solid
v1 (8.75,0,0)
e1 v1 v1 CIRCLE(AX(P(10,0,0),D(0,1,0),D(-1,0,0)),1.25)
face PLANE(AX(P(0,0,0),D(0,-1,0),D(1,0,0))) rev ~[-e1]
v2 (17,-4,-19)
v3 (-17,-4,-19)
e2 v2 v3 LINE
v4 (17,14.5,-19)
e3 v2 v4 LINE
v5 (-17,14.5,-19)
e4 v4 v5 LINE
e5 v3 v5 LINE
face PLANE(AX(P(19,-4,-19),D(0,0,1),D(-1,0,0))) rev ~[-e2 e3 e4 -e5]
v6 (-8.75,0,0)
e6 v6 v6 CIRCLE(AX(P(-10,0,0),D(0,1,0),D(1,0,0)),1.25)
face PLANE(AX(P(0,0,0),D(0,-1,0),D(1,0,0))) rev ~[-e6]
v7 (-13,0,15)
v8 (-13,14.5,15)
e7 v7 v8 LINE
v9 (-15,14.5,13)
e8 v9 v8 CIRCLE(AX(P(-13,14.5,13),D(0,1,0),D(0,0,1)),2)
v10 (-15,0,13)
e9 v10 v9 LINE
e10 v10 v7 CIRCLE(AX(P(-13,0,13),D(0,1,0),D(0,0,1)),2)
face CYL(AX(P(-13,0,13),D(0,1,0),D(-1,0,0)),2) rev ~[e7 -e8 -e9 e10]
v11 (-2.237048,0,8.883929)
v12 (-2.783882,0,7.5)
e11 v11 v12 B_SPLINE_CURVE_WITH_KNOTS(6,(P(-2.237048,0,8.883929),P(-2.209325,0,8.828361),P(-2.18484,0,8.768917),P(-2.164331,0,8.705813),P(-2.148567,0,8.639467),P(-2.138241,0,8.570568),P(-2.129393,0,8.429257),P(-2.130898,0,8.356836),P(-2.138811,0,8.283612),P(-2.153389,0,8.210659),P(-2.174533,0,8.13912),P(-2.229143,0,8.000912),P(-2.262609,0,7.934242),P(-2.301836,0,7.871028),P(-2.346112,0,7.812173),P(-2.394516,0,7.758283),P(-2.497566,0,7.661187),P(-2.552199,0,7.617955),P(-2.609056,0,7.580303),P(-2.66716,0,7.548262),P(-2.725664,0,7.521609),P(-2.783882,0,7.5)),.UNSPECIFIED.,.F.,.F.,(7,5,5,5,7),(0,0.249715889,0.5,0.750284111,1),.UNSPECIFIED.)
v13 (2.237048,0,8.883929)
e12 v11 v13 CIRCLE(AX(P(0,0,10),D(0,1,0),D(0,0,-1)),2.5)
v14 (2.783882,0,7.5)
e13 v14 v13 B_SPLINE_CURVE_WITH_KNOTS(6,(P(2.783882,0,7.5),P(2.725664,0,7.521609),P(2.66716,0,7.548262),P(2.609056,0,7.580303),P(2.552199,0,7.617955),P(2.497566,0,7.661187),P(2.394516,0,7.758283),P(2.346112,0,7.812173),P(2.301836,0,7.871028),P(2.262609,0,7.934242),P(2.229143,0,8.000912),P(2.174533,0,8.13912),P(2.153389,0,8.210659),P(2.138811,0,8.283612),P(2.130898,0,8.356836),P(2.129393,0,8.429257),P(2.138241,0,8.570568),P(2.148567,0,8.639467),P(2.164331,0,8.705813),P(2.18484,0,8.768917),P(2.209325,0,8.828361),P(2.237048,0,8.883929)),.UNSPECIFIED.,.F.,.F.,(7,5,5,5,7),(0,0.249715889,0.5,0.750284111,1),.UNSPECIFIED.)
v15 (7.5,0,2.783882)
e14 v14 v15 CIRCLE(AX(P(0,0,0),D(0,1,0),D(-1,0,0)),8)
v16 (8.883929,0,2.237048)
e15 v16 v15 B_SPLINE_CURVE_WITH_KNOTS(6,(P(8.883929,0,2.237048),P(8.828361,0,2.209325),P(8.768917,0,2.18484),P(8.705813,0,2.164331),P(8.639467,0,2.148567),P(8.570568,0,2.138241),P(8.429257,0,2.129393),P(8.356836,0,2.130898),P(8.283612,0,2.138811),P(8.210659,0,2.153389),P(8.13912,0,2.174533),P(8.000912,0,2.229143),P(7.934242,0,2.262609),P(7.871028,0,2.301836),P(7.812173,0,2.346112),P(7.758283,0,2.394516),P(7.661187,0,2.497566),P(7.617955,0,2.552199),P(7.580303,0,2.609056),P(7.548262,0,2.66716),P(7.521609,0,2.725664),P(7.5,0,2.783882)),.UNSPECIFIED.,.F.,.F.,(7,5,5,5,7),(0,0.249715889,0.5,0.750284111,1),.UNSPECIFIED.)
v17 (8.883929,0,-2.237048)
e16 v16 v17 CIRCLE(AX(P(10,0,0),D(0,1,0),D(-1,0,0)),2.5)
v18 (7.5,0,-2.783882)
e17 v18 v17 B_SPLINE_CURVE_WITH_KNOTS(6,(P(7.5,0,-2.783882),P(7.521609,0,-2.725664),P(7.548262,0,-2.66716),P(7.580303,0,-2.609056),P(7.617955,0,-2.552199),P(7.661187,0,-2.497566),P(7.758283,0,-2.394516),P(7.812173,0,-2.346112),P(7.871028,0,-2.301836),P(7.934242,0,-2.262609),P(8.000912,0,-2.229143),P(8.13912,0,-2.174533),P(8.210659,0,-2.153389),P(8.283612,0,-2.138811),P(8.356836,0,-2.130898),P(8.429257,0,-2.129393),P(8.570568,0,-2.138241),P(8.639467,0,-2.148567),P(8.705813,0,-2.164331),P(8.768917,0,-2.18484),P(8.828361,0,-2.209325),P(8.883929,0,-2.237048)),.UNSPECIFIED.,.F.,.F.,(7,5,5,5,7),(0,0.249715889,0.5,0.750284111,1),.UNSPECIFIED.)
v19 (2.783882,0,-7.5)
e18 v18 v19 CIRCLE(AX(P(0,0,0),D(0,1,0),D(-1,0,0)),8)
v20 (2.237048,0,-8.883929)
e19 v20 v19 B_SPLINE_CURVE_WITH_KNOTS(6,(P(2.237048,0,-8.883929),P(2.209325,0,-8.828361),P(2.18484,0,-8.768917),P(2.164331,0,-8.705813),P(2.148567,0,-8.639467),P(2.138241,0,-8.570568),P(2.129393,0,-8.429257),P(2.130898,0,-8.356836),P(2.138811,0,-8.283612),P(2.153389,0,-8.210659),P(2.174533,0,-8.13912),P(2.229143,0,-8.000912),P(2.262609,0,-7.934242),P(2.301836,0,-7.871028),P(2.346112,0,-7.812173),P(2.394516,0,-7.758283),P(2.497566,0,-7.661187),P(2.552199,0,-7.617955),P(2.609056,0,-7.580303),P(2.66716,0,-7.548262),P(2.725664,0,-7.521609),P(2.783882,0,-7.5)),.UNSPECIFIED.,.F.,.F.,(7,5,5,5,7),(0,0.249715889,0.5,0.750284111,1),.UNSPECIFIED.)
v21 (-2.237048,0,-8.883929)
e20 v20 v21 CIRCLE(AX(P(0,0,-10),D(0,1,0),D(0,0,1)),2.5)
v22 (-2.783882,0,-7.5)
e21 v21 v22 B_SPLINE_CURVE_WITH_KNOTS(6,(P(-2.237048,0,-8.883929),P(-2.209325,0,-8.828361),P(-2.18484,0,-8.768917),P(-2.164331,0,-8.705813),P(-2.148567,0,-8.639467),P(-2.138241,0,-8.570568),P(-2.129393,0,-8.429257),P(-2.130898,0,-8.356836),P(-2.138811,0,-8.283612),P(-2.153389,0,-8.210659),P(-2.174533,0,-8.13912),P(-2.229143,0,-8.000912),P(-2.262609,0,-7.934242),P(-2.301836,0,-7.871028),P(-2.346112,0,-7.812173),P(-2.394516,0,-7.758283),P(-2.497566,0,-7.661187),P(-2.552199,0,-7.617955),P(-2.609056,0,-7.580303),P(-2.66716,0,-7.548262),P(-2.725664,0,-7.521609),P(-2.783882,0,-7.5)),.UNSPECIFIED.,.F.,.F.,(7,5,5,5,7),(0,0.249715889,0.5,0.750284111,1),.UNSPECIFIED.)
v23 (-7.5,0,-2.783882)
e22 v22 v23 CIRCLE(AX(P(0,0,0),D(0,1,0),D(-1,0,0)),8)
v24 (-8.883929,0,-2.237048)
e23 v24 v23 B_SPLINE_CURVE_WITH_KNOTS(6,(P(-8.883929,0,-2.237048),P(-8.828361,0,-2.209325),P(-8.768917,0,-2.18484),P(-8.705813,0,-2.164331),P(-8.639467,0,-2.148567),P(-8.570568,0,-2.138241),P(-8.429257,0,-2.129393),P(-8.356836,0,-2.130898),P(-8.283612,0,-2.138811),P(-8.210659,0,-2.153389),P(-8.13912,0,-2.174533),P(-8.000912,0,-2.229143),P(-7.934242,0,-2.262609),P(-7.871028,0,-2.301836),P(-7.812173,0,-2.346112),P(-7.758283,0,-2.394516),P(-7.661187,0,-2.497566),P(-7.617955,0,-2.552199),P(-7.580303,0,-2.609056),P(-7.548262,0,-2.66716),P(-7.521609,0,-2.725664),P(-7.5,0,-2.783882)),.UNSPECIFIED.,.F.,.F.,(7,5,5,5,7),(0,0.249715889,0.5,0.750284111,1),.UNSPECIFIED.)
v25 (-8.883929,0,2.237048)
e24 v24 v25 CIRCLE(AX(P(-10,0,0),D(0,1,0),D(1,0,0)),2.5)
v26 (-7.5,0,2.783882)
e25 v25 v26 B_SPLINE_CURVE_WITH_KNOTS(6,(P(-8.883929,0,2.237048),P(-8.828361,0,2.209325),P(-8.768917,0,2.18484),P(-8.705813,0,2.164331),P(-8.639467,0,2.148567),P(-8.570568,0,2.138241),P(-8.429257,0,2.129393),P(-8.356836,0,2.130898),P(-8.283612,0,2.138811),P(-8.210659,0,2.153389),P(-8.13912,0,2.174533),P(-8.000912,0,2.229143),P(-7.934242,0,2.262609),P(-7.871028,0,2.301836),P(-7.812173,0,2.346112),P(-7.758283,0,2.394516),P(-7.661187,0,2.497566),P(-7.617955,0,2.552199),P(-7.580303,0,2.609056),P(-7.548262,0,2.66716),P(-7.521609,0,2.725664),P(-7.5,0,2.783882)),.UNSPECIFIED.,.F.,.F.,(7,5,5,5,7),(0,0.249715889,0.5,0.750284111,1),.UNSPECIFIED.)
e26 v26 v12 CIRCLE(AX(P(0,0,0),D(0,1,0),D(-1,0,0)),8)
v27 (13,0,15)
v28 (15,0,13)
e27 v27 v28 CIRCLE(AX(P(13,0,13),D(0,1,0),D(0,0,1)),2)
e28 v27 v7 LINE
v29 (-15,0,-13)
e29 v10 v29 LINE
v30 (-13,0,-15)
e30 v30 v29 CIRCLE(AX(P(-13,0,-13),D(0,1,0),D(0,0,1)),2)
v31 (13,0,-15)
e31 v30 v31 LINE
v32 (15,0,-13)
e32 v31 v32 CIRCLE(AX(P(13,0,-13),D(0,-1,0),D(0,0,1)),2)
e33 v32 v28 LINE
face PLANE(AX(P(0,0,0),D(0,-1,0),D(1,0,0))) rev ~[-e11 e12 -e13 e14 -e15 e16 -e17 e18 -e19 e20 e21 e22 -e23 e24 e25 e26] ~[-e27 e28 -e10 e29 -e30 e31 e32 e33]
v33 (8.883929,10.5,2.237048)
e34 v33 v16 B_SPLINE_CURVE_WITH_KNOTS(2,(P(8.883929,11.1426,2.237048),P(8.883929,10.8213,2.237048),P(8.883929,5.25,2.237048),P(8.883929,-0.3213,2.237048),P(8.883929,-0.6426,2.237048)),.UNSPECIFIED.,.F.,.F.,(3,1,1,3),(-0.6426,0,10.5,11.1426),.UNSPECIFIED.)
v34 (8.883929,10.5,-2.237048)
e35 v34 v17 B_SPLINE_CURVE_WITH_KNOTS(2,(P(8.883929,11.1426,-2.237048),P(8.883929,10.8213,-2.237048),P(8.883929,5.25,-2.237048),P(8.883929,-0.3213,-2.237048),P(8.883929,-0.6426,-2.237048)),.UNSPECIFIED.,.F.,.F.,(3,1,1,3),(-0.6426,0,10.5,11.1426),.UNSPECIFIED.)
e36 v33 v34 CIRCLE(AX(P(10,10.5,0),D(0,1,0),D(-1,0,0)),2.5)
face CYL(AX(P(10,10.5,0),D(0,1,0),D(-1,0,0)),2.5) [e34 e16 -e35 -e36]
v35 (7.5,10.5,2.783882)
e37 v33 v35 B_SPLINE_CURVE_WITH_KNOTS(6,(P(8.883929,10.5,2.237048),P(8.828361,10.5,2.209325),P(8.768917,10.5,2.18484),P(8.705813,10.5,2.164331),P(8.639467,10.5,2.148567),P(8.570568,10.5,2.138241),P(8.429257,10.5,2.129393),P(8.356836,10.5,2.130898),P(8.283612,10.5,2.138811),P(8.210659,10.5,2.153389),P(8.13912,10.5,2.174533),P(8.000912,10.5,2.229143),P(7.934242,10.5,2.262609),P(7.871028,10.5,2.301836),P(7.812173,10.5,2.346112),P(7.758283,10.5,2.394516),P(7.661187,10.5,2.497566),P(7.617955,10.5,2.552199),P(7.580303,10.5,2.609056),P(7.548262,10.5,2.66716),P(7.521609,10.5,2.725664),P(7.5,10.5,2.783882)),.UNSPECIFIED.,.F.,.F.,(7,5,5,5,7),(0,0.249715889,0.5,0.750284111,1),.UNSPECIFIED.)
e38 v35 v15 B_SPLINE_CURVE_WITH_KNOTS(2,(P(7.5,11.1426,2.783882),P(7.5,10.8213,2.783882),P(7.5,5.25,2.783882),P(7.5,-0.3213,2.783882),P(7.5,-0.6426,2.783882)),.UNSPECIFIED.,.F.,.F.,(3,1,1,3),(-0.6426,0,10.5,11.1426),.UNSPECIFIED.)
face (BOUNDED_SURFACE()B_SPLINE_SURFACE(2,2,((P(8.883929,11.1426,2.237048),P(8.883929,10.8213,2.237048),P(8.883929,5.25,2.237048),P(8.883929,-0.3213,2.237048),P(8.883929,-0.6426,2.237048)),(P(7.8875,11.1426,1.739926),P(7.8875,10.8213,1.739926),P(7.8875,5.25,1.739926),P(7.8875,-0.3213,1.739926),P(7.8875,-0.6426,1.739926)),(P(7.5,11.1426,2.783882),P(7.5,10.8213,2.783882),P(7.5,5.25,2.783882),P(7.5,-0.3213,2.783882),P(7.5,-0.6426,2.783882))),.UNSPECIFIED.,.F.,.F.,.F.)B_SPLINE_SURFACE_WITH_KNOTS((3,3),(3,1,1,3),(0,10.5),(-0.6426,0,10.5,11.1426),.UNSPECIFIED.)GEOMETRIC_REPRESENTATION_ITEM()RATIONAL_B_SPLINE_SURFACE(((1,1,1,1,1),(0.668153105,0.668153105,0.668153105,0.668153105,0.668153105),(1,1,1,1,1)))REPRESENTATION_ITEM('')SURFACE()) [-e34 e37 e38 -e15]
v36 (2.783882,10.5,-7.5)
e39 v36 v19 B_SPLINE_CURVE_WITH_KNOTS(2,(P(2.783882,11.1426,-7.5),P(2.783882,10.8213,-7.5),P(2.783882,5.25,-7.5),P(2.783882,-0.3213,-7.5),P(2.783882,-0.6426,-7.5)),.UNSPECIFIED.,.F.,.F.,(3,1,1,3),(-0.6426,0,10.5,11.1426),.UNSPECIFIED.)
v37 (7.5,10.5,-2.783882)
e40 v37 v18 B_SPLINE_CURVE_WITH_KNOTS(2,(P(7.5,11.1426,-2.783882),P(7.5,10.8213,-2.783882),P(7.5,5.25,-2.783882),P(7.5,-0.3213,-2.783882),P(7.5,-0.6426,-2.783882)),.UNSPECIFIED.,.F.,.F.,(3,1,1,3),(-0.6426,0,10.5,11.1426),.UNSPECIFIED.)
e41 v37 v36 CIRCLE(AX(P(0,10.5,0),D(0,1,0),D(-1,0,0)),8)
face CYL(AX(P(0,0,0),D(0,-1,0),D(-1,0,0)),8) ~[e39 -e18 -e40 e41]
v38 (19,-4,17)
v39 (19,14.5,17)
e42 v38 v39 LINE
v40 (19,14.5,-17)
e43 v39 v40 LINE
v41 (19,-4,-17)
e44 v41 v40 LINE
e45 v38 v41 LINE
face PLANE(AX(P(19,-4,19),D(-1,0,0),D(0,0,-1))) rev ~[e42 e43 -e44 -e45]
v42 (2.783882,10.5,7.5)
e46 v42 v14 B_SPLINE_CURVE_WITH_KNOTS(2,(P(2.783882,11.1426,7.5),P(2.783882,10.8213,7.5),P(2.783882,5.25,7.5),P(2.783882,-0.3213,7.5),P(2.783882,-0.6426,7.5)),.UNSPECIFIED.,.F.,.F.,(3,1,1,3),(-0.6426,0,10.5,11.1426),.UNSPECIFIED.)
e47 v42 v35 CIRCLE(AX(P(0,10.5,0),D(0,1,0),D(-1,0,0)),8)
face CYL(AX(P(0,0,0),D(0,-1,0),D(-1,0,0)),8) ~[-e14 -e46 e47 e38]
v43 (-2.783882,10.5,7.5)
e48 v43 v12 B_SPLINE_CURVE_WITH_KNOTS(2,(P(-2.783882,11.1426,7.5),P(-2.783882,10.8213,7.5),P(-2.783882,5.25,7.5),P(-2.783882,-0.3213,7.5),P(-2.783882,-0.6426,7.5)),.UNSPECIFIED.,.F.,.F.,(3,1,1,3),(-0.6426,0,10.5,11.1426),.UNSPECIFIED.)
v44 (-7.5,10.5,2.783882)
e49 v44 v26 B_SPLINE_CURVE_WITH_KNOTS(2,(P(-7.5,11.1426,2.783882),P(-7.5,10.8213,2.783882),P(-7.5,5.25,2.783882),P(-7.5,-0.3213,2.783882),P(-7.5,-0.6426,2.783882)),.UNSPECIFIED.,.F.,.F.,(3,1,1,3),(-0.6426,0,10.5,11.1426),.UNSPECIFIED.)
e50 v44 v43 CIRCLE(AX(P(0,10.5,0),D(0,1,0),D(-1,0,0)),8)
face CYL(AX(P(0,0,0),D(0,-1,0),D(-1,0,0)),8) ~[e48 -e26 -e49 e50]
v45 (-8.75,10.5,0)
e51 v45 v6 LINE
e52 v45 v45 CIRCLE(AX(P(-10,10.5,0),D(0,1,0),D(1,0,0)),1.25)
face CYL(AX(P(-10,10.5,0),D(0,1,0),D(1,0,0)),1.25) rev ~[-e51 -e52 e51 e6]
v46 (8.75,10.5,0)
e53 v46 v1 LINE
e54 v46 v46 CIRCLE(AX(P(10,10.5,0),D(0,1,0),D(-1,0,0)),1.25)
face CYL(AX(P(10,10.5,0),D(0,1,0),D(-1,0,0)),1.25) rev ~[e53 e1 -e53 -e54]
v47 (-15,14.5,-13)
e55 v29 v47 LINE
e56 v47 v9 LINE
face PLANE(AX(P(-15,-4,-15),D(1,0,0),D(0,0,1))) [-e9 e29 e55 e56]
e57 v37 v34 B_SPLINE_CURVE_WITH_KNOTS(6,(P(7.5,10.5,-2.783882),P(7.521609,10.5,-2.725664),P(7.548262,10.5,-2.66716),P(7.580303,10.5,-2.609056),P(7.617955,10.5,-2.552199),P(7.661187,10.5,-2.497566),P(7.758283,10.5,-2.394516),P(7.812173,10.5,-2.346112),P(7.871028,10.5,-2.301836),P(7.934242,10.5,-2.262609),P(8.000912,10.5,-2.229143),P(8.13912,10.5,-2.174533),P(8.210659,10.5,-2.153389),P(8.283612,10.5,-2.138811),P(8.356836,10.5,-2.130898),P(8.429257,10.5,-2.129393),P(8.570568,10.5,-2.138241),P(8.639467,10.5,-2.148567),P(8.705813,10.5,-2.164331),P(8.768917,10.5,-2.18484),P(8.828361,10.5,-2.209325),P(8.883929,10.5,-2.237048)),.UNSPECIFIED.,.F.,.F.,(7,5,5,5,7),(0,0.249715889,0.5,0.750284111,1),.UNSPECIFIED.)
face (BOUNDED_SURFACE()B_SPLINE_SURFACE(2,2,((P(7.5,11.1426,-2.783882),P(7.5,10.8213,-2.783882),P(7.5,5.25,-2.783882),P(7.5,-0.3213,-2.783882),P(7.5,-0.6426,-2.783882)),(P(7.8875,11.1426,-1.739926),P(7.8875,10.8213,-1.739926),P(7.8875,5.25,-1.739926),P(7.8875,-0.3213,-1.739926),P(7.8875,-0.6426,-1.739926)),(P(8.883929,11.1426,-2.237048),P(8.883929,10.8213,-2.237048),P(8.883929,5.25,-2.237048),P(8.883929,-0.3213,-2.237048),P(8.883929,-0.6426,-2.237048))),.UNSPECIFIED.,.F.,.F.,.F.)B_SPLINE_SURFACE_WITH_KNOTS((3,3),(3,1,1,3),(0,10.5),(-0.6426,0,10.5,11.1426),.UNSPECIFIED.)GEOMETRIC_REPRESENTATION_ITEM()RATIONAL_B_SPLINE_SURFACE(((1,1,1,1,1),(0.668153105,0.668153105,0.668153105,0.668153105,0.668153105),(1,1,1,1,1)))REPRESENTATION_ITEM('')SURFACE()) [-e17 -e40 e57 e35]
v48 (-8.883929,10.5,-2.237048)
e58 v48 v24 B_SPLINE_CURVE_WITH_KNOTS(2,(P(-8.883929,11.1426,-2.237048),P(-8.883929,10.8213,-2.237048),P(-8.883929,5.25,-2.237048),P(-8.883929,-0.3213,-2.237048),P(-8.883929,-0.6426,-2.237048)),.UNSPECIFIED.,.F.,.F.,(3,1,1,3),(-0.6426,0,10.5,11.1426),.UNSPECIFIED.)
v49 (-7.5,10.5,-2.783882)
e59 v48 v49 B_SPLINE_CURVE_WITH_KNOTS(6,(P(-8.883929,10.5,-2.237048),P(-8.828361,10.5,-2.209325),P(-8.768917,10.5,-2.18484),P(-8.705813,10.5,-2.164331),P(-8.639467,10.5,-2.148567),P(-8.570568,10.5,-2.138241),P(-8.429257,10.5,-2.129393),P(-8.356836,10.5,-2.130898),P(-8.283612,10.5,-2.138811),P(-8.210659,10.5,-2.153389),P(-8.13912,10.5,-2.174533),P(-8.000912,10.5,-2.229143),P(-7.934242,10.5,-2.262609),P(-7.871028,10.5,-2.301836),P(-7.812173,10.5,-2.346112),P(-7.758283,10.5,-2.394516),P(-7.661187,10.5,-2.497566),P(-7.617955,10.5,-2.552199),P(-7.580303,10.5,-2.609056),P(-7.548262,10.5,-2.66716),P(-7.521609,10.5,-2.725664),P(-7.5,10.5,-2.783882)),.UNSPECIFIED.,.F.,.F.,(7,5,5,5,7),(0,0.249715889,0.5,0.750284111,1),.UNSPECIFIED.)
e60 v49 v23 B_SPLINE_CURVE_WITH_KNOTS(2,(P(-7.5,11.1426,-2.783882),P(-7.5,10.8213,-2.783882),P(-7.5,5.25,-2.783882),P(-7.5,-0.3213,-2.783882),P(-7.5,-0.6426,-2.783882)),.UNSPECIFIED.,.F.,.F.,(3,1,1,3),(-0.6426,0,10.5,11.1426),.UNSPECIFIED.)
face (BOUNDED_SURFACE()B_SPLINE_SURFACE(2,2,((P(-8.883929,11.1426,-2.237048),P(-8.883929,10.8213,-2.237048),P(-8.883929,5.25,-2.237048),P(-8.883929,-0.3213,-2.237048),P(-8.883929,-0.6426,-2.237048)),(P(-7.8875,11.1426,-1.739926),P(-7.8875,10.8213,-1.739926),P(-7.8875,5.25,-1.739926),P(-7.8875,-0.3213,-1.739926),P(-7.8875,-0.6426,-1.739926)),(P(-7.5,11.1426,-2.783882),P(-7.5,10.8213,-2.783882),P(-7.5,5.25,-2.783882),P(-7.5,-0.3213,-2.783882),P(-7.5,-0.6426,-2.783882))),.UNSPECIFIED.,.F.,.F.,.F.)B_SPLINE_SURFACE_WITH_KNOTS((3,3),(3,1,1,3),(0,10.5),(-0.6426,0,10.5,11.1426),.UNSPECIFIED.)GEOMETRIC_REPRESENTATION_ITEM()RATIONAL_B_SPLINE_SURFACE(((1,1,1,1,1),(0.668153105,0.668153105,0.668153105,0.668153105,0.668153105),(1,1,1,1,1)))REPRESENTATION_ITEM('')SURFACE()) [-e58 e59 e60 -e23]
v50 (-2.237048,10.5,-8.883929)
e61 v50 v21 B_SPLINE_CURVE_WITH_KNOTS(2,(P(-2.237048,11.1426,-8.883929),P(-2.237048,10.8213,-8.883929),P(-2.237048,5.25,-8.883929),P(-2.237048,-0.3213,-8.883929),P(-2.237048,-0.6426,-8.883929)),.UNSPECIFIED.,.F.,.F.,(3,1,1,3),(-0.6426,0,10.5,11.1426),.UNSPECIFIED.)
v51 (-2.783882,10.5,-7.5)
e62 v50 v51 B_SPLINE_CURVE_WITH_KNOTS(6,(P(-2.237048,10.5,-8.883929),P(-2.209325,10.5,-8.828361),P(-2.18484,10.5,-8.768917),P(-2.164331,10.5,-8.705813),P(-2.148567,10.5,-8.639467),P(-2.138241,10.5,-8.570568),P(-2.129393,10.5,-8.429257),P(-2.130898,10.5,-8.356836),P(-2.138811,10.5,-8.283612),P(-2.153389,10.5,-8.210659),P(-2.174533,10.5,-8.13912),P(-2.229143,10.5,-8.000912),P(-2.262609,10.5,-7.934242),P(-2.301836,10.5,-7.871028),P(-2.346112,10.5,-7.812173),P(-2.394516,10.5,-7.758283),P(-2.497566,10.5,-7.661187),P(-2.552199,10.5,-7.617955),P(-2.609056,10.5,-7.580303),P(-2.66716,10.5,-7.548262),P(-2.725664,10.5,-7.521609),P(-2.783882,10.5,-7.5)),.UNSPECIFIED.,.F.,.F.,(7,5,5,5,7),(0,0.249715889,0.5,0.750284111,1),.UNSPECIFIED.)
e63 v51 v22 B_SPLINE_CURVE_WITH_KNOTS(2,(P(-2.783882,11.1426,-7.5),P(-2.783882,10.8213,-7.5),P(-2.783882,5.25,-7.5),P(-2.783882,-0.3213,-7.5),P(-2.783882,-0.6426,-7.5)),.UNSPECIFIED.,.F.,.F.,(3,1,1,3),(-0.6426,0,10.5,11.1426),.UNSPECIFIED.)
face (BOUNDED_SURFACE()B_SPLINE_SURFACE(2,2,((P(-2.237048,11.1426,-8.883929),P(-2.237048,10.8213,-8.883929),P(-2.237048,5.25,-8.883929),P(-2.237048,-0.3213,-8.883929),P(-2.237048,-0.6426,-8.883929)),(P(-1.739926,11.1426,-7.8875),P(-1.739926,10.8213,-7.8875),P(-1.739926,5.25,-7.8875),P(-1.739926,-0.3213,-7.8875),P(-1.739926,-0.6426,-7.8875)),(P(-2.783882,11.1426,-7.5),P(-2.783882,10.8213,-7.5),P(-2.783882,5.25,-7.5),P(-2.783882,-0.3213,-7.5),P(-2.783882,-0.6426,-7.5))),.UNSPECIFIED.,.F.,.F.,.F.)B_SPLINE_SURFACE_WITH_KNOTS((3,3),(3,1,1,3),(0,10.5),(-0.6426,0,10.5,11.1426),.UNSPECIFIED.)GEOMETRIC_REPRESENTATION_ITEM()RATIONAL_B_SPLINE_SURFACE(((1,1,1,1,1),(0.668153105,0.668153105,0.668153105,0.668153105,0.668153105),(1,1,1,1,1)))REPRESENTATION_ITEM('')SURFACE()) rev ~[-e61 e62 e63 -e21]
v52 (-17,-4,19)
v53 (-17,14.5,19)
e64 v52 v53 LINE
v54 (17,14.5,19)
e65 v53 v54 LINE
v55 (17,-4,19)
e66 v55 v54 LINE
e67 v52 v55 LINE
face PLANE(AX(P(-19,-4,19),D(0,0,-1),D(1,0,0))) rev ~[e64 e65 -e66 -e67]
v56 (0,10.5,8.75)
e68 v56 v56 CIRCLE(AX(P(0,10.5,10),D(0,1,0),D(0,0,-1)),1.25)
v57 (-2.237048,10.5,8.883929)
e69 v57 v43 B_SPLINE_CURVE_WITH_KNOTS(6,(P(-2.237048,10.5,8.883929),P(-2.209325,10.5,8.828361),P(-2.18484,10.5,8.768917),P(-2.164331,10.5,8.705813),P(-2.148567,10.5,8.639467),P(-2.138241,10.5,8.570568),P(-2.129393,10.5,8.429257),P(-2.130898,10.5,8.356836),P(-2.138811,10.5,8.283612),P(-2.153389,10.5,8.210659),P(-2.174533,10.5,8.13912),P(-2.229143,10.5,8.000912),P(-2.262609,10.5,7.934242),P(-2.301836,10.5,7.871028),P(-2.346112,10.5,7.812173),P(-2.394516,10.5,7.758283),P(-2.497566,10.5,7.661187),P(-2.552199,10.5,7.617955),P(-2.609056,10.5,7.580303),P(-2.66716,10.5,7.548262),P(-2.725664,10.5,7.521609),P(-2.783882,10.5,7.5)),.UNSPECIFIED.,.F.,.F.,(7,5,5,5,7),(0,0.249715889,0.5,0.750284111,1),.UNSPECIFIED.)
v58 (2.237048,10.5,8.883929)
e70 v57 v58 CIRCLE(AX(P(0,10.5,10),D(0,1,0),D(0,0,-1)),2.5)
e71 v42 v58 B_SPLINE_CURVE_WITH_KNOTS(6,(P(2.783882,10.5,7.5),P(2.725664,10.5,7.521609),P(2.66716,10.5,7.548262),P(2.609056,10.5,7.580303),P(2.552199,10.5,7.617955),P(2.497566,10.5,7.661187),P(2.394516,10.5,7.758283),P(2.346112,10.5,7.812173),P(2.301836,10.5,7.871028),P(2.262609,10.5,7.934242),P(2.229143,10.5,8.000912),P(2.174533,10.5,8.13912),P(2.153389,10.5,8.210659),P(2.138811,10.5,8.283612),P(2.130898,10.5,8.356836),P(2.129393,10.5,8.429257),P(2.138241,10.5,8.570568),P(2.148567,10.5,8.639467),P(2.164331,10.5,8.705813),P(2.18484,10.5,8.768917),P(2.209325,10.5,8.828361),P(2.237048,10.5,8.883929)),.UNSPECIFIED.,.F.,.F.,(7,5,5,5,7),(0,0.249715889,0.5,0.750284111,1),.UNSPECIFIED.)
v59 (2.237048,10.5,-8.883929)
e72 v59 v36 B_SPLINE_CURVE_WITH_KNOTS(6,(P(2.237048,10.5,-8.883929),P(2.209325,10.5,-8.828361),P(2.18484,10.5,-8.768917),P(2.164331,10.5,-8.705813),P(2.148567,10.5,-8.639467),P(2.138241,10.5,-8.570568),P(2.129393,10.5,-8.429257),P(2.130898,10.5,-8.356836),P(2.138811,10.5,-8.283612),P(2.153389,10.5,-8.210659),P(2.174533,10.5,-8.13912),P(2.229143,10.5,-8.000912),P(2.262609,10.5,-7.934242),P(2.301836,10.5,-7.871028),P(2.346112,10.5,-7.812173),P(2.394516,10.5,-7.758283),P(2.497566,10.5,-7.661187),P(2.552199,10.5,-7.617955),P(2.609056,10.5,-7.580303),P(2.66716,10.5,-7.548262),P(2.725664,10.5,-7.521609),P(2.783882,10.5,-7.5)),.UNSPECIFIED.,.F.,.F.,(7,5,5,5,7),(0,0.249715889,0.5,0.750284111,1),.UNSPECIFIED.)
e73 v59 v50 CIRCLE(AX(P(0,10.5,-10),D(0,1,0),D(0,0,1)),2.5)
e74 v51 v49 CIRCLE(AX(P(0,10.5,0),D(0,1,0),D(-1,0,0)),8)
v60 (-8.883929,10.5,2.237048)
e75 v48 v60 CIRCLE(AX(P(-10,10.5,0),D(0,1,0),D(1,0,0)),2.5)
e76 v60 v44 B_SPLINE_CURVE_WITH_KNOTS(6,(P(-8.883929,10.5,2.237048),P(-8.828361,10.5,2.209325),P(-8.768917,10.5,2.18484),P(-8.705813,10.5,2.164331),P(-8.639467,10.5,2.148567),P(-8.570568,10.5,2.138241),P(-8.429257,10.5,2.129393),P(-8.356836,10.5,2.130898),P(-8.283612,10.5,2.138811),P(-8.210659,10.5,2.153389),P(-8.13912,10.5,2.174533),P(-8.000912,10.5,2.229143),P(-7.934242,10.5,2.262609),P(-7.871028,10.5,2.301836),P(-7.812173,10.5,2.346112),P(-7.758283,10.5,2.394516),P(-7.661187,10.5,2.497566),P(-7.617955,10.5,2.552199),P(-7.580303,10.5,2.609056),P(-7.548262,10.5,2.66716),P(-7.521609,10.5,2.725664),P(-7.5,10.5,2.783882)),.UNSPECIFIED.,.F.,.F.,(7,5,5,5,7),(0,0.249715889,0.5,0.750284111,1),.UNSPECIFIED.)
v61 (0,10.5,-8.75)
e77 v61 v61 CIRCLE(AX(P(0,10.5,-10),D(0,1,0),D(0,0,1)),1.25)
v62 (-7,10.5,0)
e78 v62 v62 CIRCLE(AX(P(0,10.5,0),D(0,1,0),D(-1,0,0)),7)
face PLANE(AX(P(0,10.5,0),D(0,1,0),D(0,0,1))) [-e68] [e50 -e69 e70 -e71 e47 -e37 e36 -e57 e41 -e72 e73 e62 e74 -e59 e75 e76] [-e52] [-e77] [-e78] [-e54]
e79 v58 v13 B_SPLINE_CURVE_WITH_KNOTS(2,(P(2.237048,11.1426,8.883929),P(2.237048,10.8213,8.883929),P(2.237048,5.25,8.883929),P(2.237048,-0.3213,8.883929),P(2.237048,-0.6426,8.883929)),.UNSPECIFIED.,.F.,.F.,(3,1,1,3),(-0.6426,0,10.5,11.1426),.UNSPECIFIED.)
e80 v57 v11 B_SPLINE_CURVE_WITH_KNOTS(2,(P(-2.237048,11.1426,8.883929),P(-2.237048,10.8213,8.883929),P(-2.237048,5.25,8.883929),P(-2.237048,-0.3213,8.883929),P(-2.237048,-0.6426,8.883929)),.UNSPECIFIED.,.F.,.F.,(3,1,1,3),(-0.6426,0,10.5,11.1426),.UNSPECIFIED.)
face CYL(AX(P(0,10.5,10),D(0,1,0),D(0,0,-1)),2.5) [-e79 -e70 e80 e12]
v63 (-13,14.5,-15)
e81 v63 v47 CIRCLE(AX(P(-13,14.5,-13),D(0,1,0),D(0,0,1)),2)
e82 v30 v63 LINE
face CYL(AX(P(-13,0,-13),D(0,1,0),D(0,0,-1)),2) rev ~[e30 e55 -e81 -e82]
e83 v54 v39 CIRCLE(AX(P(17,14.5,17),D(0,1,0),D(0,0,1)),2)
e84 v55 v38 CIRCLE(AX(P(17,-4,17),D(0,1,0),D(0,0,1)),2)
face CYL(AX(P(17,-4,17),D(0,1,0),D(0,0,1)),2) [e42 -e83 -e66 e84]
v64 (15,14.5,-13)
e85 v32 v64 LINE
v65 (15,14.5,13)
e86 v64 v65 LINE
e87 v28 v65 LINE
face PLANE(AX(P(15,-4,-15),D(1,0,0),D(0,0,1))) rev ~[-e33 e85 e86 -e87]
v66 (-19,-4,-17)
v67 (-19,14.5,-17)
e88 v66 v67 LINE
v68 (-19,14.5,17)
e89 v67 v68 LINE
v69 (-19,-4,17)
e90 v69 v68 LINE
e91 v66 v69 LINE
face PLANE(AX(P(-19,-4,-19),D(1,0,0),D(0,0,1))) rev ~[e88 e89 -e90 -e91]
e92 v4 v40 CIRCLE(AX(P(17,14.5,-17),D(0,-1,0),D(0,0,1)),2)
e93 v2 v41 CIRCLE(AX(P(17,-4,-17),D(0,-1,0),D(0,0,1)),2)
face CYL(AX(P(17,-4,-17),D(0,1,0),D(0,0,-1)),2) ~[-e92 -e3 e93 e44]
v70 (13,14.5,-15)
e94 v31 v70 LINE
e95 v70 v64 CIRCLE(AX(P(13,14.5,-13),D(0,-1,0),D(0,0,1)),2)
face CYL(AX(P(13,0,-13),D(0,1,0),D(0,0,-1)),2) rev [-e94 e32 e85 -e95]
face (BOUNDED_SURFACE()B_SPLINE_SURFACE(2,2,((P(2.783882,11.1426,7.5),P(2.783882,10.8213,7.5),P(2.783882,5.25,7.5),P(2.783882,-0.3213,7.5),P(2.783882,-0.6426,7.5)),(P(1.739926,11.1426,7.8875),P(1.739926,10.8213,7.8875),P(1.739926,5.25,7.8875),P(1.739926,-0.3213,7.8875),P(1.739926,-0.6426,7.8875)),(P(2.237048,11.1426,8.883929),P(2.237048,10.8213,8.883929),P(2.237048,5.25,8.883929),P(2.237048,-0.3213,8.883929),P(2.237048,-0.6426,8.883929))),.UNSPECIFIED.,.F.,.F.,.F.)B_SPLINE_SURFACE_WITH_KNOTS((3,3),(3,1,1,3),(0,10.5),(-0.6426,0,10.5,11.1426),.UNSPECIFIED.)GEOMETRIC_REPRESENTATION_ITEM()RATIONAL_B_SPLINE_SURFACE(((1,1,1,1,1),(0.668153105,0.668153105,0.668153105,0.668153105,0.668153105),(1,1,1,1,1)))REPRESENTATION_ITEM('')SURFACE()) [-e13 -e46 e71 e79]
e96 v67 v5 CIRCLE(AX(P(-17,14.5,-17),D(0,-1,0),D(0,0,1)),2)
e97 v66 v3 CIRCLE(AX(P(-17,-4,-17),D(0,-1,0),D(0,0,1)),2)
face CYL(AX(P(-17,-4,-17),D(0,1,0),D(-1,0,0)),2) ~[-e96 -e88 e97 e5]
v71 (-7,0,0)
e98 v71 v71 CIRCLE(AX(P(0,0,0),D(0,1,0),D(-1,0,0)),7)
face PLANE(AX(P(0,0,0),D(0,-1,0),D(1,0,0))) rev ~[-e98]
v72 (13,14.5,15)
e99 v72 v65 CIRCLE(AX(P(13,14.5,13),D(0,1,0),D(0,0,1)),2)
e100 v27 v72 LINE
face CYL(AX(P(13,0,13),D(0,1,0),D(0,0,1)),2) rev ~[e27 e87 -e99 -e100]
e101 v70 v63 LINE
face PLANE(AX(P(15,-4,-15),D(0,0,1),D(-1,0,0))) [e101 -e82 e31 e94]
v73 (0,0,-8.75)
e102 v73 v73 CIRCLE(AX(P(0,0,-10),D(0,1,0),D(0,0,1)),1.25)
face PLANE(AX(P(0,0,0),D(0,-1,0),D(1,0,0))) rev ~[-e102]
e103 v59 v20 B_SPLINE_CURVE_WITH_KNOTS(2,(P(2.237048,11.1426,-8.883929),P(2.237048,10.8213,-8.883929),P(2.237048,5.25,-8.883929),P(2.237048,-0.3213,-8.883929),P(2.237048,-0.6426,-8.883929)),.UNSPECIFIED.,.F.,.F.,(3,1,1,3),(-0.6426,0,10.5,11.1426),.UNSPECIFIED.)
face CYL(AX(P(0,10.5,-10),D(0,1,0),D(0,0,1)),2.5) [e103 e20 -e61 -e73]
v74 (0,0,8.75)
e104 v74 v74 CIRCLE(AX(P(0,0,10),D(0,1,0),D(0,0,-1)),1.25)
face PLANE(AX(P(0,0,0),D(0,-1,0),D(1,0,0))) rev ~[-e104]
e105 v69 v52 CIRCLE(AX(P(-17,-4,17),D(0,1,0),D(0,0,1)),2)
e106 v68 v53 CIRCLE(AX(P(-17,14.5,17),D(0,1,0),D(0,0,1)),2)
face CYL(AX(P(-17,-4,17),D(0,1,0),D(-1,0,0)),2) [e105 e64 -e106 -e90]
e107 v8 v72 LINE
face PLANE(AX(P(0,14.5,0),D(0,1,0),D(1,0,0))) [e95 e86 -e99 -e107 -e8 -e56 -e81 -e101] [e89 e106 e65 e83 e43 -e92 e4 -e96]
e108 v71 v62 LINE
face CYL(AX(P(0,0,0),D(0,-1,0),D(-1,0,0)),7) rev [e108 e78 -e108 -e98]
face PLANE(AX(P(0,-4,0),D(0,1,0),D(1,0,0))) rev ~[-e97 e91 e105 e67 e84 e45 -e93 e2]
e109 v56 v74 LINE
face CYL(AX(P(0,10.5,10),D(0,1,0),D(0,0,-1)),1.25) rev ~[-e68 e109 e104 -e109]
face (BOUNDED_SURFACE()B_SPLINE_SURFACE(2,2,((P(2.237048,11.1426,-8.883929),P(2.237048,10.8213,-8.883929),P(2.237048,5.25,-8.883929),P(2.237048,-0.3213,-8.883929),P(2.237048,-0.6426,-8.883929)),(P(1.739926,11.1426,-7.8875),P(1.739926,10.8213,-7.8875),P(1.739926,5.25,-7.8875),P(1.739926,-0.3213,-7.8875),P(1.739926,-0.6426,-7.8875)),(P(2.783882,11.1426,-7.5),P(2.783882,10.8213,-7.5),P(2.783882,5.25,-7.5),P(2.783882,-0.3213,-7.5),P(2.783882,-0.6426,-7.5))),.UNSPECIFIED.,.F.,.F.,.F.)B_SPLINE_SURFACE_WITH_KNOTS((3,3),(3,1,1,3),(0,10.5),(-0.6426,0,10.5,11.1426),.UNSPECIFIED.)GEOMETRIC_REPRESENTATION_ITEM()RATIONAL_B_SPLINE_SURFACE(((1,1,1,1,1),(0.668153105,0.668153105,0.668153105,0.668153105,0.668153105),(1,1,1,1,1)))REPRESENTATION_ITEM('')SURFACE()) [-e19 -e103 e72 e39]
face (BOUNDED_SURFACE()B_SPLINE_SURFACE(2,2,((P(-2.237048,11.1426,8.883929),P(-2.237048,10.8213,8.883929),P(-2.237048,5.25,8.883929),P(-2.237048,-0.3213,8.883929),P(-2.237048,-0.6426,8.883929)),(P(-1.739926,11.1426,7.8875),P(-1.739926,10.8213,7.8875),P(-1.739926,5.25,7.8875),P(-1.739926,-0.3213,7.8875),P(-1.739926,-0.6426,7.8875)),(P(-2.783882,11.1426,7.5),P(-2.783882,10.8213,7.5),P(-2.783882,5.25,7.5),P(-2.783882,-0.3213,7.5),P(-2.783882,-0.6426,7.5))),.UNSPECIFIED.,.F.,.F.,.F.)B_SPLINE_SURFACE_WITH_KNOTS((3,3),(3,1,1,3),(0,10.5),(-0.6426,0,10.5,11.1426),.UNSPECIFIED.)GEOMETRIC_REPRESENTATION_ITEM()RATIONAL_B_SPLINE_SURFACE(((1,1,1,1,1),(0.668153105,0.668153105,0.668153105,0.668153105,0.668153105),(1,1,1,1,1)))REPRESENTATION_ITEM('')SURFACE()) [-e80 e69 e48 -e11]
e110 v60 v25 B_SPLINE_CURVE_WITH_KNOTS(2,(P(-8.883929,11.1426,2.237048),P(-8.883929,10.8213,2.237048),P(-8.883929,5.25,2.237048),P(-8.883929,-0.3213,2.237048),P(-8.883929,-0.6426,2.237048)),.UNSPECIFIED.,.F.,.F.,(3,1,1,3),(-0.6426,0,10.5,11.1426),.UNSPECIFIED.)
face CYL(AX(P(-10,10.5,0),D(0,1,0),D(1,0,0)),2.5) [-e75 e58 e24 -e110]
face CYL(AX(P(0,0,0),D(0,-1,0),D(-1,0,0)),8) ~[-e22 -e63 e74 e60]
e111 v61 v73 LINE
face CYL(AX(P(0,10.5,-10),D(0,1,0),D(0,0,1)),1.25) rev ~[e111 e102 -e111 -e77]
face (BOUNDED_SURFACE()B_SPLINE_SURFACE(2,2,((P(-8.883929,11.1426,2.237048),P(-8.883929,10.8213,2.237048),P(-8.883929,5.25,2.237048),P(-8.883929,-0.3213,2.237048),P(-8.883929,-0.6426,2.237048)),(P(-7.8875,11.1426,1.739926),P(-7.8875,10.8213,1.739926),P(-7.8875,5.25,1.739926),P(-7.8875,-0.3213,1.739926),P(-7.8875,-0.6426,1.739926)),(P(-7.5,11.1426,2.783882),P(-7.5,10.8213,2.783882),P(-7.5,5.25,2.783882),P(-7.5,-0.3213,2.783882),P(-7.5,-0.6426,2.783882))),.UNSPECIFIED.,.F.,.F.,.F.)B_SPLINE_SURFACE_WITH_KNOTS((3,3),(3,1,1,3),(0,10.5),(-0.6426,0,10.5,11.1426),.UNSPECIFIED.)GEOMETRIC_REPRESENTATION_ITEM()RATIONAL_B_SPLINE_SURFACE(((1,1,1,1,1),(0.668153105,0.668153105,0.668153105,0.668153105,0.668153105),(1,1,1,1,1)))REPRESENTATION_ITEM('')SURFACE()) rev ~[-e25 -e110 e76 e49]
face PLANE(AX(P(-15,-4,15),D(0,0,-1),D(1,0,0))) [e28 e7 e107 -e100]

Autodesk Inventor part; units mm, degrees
ref_plane "YZ Plane" through (0, 0, 0) normal (1, 0, 0) x (0, 1, 0)
ref_plane "XZ Plane" through (0, 0, 0) normal (0, 1, 0) x (-1, 0, 0)
ref_plane "XY Plane" through (0, 0, 0) normal (0, 0, 1) x (1, 0, 0)
sketch "Sketch1" plane through (0, 0, 0) normal (0, 1, 0) x (-1, 0, 0)
  circle A0 centre (0, 0) radius 7
  circle A1 centre (0, 0) radius 8
  dimension "d0" = 14
  dimension "d1" = 1
extrude "Extrusion1" add sketch "Sketch1" along normal blind 10.5
sketch "Sketch2" plane through (0, 0, 0) normal (0, -1, 0) x (1, 0, 0)
  circle A0 centre (0, 0) radius 8
extrude "Extrusion2" [suppressed]
sketch "Sketch4" plane through (0, 10.5, 0) normal (0, 1, 0) x (1, 0, 0)
  circle A0 centre (-10, 0) radius 1.25
  circle A1 centre (-10, 0) radius 2.5
  point P0 (0, 0)
  dimension "d6" = 5
  dimension "d7" = 2.5
  dimension "d8" = 10
extrude "Extrusion3" add sketch "Sketch4" against normal up to surface (10.5 mm away)
pattern_circular "Circular Pattern1" count 4 over 360 about axis through (0, 0, 0) along (0, 1, 0) of "Extrusion3"
fillet "Fillet1" radius 1 8 edges at (7.8875, 5.25, -1.3369) (7.8875, 5.25, 1.3369) (1.3369, 5.25, 7.8875) (-1.3369, 5.25, 7.8875) (-7.8875, 5.25, 1.3369) (-7.8875, 5.25, -1.3369) (-1.3369, 5.25, -7.8875) (1.3369, 5.25, -7.8875)
sketch "Sketch5" plane through (0, 0, 0) normal (0, -1, 0) x (1, 0, 0)
  line L0 (-15, -15) -> (15, -15)
  line L1 (15, -15) -> (15, 15)
  line L2 (15, 15) -> (-15, 15)
  line L3 (-15, 15) -> (-15, -15)
  line L4 (-15, -15) -> (15, 15) construction
  line L5 (15, -15) -> (-15, 15) construction
  point P0 (0, 0)
  dimension "d23" = 30
  dimension "d24" = 30
extrude "Extrusion4" add sketch "Sketch5" along normal blind 4
sketch "Sketch6" plane through (0, -4, 0) normal (0, 1, 0) x (1, 0, 0)
  line L0 (15, 15) -> (15, -15) projected
  line L1 (-15, -15) -> (15, -15)
  line L2 (15, -15) -> (15, 15)
  line L3 (15, 15) -> (-15, 15)
  line L4 (-15, 15) -> (-15, -15)
  line L5 (-15, -15) -> (15, 15) construction
  line L6 (15, -15) -> (-15, 15) construction
  line L7 (-19, -19) -> (19, -19)
  line L8 (19, -19) -> (19, 19)
  line L9 (19, 19) -> (-19, 19)
  line L10 (-19, 19) -> (-19, -19)
  line L11 (-19, -19) -> (19, 19) construction
  line L12 (19, -19) -> (-19, 19) construction
  point P0 (0, 0)
  dimension "d27" = 4
  dimension "d28" = 4
extrude "Extrusion5" add sketch "Sketch6" along normal blind 18.5
fillet "Fillet2" radius 2 8 edges at (-15, 7.25, -15) (15, 7.25, -15) (-15, 7.25, 15) (15, 7.25, 15) (19, 5.25, 19) (19, 5.25, -19) (-19, 5.25, 19) (-19, 5.25, -19)
properties part number "Ecoflex_mould"
